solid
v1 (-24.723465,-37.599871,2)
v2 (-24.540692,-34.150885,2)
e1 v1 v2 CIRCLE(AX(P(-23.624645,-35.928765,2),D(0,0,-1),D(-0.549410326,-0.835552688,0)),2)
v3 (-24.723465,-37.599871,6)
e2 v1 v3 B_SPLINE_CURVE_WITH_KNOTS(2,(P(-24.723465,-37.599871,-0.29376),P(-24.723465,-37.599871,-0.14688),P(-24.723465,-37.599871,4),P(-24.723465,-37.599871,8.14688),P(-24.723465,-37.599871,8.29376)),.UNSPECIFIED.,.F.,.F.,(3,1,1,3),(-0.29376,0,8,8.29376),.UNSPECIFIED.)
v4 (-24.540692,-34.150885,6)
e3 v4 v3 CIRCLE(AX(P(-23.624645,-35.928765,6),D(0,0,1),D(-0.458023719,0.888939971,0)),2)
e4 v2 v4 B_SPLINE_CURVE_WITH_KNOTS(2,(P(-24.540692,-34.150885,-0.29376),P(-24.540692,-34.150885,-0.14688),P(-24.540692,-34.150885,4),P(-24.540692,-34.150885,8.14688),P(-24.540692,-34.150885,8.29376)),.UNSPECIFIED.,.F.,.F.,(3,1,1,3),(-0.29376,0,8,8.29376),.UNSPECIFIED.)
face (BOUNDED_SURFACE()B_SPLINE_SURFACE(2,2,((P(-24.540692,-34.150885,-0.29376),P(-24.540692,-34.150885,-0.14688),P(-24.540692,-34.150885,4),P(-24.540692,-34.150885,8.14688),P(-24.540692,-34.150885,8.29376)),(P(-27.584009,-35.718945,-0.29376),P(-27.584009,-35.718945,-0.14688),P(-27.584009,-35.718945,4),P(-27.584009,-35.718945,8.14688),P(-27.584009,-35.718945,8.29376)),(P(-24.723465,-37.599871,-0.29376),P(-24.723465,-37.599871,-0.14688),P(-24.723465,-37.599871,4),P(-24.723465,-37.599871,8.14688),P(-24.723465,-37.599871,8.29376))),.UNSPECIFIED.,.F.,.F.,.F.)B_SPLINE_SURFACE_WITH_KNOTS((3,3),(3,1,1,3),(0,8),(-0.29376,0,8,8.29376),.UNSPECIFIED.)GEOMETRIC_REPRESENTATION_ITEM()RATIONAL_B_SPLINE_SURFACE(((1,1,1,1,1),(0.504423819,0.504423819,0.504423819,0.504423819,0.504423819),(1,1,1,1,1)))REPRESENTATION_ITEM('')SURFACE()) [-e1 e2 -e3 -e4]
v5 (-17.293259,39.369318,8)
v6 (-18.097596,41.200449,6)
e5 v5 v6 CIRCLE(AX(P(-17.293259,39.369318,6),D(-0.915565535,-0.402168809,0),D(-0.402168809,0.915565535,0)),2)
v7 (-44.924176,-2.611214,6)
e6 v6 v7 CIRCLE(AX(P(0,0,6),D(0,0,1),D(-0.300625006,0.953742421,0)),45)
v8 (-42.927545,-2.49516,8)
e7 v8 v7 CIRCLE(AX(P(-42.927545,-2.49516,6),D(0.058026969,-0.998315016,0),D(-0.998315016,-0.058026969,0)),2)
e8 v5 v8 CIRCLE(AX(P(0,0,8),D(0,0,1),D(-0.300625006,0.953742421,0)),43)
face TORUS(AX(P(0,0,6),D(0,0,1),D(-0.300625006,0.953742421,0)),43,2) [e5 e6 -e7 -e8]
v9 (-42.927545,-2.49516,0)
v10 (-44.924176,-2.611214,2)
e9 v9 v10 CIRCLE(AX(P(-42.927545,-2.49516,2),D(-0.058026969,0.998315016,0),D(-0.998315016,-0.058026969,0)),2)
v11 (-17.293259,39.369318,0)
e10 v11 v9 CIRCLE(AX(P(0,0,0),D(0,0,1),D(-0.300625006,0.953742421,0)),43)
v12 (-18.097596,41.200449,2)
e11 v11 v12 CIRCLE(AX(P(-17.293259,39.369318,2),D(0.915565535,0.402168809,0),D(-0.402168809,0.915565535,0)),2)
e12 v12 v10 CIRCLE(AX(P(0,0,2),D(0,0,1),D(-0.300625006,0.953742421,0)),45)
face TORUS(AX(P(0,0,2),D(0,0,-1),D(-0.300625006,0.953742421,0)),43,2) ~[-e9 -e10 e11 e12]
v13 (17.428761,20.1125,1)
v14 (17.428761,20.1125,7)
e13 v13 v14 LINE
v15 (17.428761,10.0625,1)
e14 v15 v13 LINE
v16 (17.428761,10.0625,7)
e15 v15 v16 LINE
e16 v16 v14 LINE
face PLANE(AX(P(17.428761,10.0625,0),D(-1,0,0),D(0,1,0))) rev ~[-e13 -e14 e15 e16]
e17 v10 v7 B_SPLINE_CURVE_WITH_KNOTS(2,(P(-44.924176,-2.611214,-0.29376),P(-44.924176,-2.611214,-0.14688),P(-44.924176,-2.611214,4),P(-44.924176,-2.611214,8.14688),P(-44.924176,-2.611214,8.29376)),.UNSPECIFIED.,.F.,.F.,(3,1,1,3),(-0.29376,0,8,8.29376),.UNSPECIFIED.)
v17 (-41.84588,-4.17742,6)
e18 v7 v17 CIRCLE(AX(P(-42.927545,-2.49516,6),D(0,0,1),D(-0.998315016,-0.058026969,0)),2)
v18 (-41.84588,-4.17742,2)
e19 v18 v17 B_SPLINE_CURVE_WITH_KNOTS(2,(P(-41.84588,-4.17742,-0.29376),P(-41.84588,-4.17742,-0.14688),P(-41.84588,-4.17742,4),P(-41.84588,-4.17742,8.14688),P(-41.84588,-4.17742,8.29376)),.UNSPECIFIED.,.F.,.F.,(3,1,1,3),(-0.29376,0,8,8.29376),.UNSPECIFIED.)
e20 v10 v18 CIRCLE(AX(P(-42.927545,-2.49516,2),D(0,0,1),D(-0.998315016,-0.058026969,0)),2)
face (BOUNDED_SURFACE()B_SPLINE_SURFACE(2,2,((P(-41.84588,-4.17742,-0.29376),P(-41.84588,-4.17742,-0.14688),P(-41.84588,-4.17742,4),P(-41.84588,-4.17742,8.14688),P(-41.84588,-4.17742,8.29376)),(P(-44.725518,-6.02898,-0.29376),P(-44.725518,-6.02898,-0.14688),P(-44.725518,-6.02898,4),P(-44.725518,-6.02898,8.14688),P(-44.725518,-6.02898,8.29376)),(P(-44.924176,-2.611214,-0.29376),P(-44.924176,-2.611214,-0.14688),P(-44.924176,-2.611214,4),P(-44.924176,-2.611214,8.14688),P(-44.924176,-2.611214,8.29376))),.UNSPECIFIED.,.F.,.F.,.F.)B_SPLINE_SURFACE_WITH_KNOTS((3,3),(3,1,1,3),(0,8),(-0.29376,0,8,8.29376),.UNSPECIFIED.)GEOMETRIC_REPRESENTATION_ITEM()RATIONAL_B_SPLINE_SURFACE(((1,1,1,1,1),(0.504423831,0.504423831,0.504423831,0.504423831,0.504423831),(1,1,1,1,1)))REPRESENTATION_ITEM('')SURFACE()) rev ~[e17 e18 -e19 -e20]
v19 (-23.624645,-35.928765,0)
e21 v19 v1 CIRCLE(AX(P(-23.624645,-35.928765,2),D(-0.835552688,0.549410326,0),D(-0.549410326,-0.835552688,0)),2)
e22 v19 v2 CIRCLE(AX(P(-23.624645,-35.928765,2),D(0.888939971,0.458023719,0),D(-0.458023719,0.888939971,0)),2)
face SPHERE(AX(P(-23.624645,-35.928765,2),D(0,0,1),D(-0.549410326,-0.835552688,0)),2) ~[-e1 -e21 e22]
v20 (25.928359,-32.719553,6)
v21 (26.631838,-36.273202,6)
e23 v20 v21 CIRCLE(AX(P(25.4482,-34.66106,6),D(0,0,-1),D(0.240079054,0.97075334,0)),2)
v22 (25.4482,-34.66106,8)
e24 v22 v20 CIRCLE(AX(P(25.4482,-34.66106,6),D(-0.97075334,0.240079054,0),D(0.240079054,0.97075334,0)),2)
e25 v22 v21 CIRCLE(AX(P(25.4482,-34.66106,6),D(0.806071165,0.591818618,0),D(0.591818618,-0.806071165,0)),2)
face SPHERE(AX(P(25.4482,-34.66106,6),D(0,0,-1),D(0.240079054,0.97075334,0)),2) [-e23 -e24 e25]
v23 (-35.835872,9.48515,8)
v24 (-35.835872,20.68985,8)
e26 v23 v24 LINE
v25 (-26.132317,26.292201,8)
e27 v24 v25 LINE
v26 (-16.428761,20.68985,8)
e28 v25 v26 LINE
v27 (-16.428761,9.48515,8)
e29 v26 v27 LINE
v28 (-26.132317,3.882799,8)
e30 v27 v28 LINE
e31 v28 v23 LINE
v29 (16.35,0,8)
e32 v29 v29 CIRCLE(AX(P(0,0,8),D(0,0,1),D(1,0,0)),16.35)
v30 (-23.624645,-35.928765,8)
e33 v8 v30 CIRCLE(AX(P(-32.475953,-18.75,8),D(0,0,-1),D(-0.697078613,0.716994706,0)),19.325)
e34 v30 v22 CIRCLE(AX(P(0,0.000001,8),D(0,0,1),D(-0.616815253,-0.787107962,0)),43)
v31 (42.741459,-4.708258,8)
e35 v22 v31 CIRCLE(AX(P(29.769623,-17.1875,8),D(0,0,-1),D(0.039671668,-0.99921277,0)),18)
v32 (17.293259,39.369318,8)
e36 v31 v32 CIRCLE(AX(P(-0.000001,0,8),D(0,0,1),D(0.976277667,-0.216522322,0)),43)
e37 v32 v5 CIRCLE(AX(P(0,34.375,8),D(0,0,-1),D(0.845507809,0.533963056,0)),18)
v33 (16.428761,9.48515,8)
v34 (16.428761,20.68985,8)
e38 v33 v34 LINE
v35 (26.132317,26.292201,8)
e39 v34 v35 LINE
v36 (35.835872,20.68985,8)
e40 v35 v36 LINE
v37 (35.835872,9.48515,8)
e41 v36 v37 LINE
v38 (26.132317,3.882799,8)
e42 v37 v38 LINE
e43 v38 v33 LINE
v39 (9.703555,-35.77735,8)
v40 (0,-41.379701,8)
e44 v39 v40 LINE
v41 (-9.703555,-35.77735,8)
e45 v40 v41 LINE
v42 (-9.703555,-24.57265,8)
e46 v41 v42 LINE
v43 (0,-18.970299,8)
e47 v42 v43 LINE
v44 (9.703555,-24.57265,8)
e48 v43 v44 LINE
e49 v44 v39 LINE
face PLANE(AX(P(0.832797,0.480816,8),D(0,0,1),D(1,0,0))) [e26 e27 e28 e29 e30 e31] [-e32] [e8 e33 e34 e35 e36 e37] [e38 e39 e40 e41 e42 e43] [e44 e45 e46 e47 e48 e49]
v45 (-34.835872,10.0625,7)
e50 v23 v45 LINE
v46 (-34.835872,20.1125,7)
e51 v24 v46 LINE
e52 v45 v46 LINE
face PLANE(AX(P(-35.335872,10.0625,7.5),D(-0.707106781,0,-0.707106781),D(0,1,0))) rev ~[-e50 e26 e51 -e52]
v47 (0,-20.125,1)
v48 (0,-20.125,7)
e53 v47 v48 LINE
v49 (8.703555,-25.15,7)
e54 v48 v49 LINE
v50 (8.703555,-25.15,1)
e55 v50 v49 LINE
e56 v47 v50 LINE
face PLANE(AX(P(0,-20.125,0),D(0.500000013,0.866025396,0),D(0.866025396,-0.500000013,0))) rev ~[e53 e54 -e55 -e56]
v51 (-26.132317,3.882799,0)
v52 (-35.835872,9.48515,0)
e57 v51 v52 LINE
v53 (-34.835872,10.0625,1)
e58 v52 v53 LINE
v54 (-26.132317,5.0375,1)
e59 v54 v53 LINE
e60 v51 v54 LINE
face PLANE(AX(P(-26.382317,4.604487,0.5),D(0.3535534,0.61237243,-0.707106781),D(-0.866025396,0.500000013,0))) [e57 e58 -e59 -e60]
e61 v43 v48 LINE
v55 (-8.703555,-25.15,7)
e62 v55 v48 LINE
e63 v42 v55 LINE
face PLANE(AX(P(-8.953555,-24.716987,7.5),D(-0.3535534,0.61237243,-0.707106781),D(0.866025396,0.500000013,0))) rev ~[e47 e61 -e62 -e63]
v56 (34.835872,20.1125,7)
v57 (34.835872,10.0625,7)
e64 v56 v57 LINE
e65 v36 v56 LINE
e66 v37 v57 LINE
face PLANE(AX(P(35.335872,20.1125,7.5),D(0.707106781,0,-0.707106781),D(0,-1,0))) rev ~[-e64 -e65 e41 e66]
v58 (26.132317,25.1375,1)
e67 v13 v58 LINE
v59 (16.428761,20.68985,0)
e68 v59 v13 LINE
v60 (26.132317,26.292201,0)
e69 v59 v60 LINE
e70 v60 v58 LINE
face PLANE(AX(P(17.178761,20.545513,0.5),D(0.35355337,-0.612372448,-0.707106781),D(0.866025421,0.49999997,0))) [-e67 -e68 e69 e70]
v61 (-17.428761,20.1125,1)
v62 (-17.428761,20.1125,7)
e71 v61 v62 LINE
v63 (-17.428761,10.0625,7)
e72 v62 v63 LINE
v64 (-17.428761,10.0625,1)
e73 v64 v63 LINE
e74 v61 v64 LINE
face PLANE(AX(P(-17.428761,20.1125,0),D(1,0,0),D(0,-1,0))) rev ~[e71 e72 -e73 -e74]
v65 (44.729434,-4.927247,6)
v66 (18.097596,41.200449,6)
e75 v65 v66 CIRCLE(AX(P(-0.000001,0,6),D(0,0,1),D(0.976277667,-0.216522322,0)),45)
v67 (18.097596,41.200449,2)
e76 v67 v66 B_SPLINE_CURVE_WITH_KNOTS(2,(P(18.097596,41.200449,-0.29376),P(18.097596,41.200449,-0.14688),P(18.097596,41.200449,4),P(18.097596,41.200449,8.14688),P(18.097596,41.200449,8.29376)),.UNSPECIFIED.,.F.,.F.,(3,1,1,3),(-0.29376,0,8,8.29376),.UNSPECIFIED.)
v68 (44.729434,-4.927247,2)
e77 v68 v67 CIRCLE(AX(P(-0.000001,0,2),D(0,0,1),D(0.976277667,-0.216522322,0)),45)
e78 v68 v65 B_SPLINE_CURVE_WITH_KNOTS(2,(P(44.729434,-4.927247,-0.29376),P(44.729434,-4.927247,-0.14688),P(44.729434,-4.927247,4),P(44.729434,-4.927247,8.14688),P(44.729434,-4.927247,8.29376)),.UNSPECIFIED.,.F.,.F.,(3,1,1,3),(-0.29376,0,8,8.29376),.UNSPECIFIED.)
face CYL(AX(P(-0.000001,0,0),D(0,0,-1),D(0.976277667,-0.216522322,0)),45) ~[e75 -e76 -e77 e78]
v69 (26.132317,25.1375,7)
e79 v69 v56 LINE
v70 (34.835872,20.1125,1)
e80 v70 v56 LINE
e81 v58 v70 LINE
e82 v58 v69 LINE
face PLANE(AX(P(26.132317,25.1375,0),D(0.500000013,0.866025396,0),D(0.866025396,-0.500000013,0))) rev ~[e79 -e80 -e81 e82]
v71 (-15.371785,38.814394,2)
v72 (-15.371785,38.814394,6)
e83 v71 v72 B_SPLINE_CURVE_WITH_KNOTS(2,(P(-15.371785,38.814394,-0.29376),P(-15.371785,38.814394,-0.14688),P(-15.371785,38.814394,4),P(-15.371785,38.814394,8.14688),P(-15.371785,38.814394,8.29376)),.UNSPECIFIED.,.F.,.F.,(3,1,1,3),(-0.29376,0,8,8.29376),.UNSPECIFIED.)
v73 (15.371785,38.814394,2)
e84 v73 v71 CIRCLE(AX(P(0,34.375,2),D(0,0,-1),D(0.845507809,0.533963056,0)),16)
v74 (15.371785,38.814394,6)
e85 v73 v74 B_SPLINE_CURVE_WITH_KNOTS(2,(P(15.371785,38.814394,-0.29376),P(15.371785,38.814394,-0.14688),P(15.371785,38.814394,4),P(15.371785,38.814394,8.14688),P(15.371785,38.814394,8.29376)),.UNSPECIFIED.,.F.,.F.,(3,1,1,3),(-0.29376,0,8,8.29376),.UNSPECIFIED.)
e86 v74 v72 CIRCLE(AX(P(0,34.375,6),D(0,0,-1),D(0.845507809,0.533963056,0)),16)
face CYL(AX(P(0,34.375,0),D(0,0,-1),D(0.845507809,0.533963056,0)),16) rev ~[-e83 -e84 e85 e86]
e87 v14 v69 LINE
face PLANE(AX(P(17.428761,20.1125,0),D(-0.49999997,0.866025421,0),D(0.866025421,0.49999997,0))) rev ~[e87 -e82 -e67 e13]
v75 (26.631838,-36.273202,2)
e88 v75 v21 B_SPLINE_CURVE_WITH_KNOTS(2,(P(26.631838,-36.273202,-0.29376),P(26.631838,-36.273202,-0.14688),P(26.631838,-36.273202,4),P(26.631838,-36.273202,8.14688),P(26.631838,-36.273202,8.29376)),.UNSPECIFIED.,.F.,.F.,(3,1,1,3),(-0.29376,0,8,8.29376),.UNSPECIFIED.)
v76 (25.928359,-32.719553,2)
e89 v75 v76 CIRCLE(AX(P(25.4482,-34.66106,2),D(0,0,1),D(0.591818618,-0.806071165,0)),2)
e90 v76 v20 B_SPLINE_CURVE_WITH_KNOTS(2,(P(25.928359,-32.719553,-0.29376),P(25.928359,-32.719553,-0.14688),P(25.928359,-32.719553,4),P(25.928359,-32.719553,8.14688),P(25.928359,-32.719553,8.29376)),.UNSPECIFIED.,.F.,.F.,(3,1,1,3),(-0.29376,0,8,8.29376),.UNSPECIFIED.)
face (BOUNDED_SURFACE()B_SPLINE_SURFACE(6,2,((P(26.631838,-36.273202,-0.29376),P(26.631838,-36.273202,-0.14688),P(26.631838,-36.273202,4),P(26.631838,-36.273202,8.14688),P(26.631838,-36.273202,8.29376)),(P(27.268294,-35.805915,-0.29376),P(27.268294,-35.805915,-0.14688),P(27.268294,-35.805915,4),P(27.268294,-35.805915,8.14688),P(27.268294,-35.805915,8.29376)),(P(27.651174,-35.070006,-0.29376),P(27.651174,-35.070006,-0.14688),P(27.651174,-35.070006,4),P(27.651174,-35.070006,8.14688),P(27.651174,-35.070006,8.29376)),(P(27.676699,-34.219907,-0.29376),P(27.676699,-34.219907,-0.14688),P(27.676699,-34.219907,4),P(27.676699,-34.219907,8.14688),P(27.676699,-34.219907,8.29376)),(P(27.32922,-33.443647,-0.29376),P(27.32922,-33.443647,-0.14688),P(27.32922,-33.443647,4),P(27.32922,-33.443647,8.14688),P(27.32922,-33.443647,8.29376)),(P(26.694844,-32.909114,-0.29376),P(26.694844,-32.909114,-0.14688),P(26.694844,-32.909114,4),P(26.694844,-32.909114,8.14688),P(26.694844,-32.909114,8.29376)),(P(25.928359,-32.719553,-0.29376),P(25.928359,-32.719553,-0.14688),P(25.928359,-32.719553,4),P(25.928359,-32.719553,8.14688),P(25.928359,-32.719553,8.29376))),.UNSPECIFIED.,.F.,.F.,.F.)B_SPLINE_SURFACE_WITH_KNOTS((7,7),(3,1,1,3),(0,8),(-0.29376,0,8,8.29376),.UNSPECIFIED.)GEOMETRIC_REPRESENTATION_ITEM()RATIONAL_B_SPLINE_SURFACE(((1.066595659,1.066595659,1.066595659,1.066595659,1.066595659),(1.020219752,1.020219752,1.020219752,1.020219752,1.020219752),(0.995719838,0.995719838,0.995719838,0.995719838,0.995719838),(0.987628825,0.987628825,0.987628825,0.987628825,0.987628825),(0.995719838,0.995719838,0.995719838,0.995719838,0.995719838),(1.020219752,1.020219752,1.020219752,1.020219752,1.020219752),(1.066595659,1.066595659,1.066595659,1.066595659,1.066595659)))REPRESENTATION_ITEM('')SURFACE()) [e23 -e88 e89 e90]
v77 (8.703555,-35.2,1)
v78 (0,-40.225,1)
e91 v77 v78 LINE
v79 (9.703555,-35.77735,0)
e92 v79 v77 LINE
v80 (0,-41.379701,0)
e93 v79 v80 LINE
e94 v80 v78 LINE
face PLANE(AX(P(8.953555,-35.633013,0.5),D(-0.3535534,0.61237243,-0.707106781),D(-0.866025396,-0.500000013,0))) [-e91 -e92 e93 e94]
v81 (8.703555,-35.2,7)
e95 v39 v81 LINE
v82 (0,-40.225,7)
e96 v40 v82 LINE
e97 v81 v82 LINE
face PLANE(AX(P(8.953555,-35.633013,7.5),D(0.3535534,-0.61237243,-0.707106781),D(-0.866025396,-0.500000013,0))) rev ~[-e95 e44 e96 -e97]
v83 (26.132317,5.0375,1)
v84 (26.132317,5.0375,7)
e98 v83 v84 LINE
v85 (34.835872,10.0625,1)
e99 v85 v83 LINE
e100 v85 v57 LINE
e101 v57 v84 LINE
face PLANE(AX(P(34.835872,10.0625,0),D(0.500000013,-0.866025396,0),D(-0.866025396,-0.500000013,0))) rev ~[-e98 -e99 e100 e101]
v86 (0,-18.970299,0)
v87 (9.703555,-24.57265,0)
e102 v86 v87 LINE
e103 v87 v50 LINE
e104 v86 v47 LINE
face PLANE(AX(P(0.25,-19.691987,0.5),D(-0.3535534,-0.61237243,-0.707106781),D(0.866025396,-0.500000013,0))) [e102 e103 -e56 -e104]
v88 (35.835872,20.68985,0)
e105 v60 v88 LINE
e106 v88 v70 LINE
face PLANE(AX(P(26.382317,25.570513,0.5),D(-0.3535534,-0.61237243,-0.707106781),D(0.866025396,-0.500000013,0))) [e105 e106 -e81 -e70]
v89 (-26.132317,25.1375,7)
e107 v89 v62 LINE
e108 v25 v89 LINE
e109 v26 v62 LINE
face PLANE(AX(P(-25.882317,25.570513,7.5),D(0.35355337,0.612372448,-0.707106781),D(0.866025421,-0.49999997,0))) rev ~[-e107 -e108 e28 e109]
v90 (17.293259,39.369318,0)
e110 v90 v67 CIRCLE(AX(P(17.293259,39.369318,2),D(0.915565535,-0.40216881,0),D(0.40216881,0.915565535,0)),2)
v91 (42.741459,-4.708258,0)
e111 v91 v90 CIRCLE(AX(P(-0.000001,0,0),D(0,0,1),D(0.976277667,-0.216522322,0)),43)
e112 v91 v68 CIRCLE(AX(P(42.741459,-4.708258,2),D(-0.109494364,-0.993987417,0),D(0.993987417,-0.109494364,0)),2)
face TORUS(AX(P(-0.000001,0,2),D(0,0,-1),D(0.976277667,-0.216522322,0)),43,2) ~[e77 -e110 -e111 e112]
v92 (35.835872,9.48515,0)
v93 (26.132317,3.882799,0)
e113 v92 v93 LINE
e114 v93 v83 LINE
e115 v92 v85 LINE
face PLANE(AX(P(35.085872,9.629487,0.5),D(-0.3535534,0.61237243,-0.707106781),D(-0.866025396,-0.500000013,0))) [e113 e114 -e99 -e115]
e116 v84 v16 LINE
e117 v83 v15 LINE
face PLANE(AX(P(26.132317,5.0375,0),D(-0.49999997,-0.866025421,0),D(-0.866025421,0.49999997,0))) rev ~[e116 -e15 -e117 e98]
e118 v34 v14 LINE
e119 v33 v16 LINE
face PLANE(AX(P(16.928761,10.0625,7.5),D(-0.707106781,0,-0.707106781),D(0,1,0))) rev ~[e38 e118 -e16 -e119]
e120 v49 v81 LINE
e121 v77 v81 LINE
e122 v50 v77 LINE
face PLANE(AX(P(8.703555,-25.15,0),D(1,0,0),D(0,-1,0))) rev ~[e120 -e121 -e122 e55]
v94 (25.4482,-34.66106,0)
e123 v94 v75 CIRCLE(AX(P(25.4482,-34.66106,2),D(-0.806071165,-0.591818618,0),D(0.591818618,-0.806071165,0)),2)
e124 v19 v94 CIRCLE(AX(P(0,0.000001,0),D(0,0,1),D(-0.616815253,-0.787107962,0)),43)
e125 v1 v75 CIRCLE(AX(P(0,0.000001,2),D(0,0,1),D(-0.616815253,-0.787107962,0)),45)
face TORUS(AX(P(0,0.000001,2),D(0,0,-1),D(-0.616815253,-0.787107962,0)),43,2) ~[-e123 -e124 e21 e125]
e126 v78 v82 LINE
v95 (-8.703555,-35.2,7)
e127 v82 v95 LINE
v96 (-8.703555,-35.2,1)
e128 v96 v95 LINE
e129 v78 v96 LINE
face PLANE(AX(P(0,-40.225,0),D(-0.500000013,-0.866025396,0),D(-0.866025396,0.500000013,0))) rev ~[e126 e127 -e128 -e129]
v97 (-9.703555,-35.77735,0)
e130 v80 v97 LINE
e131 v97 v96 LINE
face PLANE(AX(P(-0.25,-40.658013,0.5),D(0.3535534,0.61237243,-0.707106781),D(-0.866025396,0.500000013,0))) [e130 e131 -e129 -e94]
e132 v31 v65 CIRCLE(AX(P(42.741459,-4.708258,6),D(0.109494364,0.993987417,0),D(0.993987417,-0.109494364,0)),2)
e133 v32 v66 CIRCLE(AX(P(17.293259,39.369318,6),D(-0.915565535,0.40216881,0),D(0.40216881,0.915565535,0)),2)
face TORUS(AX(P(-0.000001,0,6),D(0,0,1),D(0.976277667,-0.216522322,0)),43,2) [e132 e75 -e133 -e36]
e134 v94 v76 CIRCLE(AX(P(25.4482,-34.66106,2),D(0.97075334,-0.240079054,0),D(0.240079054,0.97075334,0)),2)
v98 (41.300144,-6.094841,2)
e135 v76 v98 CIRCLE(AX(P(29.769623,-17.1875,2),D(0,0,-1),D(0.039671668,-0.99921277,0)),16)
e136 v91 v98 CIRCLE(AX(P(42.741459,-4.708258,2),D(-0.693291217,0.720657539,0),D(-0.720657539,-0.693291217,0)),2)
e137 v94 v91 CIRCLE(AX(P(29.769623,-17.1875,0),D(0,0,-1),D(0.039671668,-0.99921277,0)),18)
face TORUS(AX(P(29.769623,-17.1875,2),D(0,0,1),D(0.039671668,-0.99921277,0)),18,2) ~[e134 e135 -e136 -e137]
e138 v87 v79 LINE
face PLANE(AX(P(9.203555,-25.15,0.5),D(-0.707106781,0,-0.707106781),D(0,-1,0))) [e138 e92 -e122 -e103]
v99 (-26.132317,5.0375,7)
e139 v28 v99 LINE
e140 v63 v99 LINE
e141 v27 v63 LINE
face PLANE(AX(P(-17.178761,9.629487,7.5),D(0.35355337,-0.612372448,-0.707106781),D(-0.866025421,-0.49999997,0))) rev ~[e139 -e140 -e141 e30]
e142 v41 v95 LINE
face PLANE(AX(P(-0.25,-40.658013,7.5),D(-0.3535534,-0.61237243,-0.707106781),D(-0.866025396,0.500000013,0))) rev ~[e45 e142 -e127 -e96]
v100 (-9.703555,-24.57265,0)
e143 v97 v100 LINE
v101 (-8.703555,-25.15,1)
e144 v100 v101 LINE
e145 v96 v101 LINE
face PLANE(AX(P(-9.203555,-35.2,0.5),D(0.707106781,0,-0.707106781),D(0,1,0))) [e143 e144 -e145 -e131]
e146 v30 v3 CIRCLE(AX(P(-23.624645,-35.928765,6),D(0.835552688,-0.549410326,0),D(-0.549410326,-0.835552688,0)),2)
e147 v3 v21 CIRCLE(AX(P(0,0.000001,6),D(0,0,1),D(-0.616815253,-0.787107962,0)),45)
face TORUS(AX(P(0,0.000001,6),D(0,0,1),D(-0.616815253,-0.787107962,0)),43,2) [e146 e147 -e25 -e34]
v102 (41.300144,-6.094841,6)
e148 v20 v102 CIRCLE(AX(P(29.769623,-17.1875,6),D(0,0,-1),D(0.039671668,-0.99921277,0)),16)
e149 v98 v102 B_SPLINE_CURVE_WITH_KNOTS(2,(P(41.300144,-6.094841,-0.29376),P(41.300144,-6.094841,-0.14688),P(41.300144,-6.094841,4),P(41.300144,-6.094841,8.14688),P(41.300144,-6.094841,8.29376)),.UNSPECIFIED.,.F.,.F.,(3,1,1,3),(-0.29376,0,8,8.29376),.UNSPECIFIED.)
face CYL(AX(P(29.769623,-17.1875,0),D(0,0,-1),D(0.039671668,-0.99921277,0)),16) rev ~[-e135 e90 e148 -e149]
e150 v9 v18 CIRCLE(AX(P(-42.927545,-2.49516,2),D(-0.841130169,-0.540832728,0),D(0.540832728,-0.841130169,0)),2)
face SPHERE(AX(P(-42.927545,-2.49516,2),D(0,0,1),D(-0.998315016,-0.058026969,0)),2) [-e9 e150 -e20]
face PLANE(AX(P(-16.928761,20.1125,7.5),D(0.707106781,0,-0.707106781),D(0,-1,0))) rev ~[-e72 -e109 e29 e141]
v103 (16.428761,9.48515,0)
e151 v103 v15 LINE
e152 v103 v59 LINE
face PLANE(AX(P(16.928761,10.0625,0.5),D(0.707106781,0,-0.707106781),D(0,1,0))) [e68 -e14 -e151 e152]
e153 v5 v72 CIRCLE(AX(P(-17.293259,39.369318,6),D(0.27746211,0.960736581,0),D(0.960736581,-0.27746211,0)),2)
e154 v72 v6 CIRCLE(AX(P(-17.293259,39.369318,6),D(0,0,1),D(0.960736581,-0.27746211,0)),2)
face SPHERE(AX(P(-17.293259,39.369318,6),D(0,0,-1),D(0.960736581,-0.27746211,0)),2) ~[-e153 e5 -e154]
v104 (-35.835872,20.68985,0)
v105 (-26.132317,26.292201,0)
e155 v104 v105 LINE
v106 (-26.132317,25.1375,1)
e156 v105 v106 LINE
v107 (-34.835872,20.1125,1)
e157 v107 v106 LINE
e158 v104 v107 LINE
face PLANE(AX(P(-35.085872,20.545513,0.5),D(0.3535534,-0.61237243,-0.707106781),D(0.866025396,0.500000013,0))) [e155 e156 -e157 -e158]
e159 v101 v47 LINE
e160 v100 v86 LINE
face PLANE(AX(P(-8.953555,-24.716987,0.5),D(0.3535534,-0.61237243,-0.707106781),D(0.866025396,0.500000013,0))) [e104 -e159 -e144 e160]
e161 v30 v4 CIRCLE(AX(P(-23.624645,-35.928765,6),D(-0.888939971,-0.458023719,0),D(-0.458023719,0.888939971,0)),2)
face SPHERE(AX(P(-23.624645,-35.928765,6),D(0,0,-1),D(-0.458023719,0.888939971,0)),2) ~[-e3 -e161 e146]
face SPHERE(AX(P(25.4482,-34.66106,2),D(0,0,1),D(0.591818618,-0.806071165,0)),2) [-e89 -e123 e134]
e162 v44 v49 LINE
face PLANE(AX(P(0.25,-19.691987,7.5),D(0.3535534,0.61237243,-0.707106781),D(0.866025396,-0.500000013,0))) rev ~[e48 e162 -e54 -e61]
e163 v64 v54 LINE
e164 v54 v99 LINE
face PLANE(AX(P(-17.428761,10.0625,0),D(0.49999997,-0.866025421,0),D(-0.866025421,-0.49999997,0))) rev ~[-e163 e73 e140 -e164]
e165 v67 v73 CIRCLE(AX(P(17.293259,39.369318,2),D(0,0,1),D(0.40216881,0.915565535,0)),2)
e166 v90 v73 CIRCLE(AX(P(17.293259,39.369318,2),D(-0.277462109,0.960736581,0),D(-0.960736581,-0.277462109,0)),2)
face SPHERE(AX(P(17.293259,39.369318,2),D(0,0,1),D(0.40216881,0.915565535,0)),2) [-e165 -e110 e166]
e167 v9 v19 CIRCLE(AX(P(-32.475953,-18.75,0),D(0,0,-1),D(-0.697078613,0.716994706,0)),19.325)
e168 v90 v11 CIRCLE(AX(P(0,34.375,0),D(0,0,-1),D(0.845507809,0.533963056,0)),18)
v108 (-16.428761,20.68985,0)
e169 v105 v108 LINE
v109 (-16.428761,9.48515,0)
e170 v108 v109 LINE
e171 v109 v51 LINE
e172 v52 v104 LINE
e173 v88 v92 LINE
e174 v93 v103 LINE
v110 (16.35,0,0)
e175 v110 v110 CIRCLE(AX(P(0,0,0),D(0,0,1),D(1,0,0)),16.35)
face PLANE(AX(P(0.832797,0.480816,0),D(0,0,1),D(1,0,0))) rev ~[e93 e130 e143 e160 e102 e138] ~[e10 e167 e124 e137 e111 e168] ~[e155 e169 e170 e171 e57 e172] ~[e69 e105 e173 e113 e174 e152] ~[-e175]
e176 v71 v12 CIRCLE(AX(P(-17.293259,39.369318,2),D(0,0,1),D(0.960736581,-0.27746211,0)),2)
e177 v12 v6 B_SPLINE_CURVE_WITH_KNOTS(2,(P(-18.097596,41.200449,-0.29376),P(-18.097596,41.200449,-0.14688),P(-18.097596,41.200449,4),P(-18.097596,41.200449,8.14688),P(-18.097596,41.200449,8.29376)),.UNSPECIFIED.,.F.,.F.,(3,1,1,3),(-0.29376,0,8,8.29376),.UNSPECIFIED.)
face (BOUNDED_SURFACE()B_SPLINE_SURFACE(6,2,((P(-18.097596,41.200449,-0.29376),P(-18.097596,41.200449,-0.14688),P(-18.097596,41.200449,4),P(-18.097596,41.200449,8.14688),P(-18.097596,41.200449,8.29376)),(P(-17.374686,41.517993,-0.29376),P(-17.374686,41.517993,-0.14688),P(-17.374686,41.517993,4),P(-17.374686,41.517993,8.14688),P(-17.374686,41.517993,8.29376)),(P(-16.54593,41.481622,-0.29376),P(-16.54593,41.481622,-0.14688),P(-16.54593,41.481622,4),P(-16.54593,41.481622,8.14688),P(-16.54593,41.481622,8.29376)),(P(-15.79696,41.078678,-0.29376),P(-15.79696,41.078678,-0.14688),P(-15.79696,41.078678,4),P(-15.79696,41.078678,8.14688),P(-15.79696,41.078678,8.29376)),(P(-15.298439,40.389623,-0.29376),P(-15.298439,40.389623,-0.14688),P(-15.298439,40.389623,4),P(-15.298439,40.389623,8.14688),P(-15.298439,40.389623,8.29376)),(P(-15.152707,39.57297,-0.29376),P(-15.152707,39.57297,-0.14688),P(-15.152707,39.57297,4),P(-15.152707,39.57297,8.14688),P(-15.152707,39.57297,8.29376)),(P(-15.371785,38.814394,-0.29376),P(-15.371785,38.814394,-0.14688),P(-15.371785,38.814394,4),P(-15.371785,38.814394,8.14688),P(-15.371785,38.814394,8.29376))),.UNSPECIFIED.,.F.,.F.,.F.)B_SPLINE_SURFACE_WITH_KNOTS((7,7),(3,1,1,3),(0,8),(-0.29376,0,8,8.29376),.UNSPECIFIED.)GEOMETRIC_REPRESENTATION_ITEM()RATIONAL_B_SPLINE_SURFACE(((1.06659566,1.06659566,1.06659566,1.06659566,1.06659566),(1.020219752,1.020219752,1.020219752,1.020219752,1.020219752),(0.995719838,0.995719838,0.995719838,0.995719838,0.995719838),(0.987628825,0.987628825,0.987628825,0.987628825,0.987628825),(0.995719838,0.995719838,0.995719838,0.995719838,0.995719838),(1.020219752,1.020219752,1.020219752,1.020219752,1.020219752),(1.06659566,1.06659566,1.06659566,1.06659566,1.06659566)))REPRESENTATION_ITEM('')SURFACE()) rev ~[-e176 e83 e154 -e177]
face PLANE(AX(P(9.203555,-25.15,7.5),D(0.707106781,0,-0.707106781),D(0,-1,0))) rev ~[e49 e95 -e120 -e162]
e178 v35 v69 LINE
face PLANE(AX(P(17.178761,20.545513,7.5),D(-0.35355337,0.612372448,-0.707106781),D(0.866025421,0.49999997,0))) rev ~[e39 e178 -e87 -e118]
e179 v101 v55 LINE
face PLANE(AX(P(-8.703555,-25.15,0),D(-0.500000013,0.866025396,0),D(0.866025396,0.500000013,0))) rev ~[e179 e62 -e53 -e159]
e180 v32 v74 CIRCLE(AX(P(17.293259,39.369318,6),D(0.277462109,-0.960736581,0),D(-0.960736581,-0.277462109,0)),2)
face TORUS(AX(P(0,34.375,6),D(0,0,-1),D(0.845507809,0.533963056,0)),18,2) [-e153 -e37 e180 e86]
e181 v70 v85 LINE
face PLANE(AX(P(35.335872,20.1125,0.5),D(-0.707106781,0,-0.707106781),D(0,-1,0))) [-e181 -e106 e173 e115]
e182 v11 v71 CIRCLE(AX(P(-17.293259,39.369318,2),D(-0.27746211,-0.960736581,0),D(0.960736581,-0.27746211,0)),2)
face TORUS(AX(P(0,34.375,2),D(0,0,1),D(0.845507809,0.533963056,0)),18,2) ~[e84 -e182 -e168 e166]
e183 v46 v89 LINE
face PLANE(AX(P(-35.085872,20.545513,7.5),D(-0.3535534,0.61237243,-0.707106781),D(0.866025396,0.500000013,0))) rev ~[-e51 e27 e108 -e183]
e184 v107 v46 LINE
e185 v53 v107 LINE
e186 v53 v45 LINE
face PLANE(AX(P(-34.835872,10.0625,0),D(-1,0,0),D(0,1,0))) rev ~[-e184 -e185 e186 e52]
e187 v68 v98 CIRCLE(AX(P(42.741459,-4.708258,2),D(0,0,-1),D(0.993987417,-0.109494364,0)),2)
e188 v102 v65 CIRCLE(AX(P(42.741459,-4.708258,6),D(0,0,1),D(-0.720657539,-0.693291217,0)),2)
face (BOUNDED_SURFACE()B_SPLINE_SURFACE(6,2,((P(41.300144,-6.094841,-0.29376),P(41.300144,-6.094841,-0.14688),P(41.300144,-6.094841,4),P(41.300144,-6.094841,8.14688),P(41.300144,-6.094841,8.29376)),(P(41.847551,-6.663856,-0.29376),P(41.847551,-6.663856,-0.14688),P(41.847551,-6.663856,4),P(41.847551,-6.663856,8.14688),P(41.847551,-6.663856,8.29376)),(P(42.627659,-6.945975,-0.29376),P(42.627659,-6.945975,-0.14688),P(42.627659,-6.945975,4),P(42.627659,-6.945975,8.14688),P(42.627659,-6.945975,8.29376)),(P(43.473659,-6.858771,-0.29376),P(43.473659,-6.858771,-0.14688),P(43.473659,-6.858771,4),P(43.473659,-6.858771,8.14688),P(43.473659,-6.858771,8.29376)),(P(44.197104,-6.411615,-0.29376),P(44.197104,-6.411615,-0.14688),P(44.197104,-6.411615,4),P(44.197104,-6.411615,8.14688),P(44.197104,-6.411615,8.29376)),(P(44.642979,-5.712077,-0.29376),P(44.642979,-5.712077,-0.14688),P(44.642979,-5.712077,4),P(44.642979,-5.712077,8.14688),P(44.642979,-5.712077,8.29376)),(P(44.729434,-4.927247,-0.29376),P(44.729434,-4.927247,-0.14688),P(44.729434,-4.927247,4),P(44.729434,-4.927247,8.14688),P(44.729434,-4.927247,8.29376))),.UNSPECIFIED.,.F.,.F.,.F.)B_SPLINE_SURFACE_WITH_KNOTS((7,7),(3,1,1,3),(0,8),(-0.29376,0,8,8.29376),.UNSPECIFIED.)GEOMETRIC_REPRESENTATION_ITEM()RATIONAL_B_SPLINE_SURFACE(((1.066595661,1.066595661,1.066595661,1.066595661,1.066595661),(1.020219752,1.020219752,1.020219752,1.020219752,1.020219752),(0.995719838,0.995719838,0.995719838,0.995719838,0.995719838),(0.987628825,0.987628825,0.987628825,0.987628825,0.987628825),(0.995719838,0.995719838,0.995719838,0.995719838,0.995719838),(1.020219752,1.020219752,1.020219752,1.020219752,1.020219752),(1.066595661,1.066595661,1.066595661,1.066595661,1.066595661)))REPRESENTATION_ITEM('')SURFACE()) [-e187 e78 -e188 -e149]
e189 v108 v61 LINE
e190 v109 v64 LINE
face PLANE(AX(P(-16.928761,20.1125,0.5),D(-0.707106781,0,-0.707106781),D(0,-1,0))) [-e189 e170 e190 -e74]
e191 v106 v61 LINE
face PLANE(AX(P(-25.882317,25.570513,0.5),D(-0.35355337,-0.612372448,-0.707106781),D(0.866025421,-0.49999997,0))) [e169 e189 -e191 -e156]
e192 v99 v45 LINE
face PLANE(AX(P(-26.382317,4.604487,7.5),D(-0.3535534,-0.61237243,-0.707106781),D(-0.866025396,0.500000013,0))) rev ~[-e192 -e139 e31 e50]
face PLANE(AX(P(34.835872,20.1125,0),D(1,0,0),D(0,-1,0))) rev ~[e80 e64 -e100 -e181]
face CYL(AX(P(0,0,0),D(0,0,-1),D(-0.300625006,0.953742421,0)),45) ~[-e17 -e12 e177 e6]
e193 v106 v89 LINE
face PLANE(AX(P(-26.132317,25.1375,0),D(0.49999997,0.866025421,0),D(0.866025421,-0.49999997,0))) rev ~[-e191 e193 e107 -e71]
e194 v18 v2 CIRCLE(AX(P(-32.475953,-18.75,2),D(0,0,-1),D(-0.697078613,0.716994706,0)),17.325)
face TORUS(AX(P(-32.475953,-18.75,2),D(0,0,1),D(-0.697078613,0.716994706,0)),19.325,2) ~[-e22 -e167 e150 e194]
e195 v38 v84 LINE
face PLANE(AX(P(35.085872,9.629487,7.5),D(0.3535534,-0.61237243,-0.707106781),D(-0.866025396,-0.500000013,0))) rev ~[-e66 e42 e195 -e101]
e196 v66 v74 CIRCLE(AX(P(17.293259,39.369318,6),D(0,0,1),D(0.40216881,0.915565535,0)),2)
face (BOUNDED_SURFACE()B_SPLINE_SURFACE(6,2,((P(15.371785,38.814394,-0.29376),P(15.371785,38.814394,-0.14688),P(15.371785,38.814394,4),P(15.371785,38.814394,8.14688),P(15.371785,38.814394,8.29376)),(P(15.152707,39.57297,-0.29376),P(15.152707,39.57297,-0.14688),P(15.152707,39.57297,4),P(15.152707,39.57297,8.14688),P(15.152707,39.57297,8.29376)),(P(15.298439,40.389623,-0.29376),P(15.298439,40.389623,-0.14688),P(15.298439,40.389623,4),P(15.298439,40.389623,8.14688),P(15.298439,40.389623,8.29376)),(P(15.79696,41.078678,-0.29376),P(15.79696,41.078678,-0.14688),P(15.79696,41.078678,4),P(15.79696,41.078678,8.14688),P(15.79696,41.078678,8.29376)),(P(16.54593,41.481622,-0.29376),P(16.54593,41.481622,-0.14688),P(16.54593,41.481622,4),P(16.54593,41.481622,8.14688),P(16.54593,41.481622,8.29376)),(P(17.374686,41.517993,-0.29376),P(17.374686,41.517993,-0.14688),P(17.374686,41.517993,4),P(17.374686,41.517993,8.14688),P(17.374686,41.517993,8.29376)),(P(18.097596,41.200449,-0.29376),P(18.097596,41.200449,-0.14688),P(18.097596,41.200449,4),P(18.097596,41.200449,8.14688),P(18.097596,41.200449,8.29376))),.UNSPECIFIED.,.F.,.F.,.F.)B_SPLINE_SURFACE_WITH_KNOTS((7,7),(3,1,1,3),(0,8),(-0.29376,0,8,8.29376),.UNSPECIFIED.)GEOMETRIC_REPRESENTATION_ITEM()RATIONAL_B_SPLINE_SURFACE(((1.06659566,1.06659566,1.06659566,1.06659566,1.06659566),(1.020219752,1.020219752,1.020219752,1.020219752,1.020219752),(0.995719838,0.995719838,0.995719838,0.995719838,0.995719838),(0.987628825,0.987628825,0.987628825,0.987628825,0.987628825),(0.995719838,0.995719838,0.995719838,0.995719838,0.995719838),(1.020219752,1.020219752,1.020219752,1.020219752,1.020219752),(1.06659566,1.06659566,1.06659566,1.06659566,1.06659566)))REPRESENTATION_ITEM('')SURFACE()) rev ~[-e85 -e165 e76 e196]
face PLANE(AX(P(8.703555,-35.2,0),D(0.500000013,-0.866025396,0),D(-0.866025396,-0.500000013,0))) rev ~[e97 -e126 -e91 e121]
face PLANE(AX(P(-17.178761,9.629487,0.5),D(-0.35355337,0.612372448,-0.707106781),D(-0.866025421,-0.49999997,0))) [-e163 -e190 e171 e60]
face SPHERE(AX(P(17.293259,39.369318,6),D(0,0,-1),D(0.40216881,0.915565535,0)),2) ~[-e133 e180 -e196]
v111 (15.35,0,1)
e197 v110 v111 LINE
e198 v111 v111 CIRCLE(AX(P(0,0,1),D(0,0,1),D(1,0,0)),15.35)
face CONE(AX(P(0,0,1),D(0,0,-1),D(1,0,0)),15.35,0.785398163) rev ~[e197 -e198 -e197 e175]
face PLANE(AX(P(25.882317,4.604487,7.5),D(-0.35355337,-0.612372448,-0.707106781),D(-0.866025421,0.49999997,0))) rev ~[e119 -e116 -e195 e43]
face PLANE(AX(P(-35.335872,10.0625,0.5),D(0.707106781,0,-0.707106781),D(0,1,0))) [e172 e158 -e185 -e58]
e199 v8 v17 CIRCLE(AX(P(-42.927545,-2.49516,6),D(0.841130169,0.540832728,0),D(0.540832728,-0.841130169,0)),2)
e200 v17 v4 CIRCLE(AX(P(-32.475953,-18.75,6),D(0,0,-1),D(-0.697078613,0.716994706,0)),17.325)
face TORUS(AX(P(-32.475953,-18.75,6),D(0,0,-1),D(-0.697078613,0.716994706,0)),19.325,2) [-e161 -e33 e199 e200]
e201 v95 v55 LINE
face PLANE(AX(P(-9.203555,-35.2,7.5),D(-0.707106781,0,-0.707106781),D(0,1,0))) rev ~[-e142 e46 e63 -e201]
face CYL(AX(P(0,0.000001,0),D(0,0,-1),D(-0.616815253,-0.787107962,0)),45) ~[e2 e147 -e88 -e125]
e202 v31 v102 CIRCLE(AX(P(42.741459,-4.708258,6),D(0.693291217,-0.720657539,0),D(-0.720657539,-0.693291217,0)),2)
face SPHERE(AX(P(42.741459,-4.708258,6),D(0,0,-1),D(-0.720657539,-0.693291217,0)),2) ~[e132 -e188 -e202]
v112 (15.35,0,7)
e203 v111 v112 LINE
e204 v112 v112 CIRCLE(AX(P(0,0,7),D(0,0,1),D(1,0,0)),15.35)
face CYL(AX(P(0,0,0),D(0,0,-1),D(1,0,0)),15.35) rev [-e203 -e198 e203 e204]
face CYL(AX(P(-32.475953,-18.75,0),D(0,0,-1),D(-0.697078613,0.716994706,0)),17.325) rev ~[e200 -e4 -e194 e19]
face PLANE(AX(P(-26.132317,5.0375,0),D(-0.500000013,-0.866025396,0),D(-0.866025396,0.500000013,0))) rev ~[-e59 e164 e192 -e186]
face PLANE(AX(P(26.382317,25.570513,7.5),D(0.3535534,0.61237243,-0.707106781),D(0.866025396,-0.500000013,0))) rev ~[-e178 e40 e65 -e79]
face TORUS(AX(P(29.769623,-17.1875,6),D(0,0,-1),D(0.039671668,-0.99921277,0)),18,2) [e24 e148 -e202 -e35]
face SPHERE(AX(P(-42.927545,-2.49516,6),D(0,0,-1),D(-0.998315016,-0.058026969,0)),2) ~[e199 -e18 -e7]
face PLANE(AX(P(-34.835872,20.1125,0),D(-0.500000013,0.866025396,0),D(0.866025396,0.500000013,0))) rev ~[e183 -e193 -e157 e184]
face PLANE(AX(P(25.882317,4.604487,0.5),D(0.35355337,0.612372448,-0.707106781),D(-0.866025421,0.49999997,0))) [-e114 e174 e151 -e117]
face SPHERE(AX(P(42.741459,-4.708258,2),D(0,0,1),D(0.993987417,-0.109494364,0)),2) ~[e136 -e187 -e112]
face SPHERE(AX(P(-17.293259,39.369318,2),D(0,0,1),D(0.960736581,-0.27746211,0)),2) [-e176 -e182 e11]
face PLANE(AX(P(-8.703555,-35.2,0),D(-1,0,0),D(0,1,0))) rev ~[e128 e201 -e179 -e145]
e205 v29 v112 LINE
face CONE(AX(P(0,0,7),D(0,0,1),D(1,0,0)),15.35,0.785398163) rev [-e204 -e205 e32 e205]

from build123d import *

# Parameters (mm, degrees)
F0_R     = 15.35
F1_DEPTH = 8
F2_R     = 2
F3_SIZE  = 1


with BuildPart() as f1:
    # F0 (on Top) → F1 (new body)
    with BuildSketch(Plane.XY):
        with BuildLine():
            ThreePointArc((-44.55284, -6.328067), (-17.472063, -10.0875), (-27.756687, -35.419858))
            ThreePointArc((-27.756687, -35.419858), (1.735658, -44.966515), (30.40437, -33.174904))
            ThreePointArc((30.40437, -33.174904), (15.913217, -9.1875), (43.932495, -9.743505))
            ThreePointArc((43.932495, -9.743505), (38.971143, 22.5), (13.528125, 42.918409))
            ThreePointArc((13.528125, 42.918409), (0, 18.375), (-13.528125, 42.918409))
            ThreePointArc((-13.528125, 42.918409), (-38.074315, 23.986382), (-44.55284, -6.328067))
        make_face()
        Polygon((-8.703555, -25.15), (0, -20.125), (8.703555, -25.15), (8.703555, -35.2), (0, -40.225), (-8.703555, -35.2), align=None, mode=Mode.SUBTRACT)
        Polygon((-17.428761, 20.1125), (-17.428761, 10.0625), (-26.132317, 5.0375), (-34.835872, 10.0625), (-34.835872, 20.1125), (-26.132317, 25.1375), align=None, mode=Mode.SUBTRACT)
        Circle(F0_R, mode=Mode.SUBTRACT)
        Polygon((26.132317, 5.0375), (17.428761, 10.0625), (17.428761, 20.1125), (26.132317, 25.1375), (34.835872, 20.1125), (34.835872, 10.0625), align=None, mode=Mode.SUBTRACT)
    extrude(amount=F1_DEPTH)

    # F2
    f2_edges = [f1.edges().sort_by_distance(p)[0] for p in [
        (0, 18.375, 8),
        (0, 18.375, 0),
        (-38.074315, 23.986382, 0),
        (-38.074315, 23.986382, 8),
        (-13.528125, 42.918409, 4),
        (13.528125, 42.918409, 4),
        (-17.472063, -10.0875, 8),
        (-17.472063, -10.0875, 0),
        (15.913217, -9.1875, 8),
        (15.913217, -9.1875, 0),
        (38.971143, 22.5, 8),
        (1.735658, -44.966515, 8),
        (43.932495, -9.743505, 4),
        (30.40437, -33.174904, 4),
        (-44.55284, -6.328067, 4),
        (-27.756687, -35.419858, 4),
        (1.735658, -44.966515, 0),
        (38.971143, 22.5, 0),
    ]]
    fillet(f2_edges, radius=F2_R)

    # F3
    f3_edges = [f1.edges().sort_by_distance(p)[0] for p in [
        (-34.835872, 15.0875, 0),
        (-30.484094, 22.625, 0),
        (-21.780539, 22.625, 0),
        (-17.428761, 15.0875, 0),
        (-15.35, 0, 0),
        (-15.35, 0, 8),
        (-21.780539, 7.55, 0),
        (-30.484094, 7.55, 0),
        (21.780539, 22.625, 0),
        (17.428761, 15.0875, 0),
        (21.780539, 7.55, 0),
        (30.484094, 7.55, 0),
        (34.835872, 15.0875, 0),
        (34.835872, 15.0875, 8),
        (30.484094, 22.625, 8),
        (30.484094, 22.625, 0),
        (-21.780539, 22.625, 8),
        (-17.428761, 15.0875, 8),
        (-4.351778, -37.7125, 0),
        (4.351778, -37.7125, 0),
        (8.703555, -30.175, 0),
        (8.703555, -30.175, 8),
        (4.351778, -22.6375, 8),
        (4.351778, -22.6375, 0),
        (-4.351778, -22.6375, 0),
        (-8.703555, -30.175, 0),
        (21.780539, 22.625, 8),
        (17.428761, 15.0875, 8),
        (21.780539, 7.55, 8),
        (30.484094, 7.55, 8),
        (-30.484094, 22.625, 8),
        (-34.835872, 15.0875, 8),
        (-30.484094, 7.55, 8),
        (-21.780539, 7.55, 8),
        (-4.351778, -22.6375, 8),
        (-8.703555, -30.175, 8),
        (-4.351778, -37.7125, 8),
        (4.351778, -37.7125, 8),
    ]]
    chamfer(f3_edges, length=F3_SIZE)


solid = f1.part
